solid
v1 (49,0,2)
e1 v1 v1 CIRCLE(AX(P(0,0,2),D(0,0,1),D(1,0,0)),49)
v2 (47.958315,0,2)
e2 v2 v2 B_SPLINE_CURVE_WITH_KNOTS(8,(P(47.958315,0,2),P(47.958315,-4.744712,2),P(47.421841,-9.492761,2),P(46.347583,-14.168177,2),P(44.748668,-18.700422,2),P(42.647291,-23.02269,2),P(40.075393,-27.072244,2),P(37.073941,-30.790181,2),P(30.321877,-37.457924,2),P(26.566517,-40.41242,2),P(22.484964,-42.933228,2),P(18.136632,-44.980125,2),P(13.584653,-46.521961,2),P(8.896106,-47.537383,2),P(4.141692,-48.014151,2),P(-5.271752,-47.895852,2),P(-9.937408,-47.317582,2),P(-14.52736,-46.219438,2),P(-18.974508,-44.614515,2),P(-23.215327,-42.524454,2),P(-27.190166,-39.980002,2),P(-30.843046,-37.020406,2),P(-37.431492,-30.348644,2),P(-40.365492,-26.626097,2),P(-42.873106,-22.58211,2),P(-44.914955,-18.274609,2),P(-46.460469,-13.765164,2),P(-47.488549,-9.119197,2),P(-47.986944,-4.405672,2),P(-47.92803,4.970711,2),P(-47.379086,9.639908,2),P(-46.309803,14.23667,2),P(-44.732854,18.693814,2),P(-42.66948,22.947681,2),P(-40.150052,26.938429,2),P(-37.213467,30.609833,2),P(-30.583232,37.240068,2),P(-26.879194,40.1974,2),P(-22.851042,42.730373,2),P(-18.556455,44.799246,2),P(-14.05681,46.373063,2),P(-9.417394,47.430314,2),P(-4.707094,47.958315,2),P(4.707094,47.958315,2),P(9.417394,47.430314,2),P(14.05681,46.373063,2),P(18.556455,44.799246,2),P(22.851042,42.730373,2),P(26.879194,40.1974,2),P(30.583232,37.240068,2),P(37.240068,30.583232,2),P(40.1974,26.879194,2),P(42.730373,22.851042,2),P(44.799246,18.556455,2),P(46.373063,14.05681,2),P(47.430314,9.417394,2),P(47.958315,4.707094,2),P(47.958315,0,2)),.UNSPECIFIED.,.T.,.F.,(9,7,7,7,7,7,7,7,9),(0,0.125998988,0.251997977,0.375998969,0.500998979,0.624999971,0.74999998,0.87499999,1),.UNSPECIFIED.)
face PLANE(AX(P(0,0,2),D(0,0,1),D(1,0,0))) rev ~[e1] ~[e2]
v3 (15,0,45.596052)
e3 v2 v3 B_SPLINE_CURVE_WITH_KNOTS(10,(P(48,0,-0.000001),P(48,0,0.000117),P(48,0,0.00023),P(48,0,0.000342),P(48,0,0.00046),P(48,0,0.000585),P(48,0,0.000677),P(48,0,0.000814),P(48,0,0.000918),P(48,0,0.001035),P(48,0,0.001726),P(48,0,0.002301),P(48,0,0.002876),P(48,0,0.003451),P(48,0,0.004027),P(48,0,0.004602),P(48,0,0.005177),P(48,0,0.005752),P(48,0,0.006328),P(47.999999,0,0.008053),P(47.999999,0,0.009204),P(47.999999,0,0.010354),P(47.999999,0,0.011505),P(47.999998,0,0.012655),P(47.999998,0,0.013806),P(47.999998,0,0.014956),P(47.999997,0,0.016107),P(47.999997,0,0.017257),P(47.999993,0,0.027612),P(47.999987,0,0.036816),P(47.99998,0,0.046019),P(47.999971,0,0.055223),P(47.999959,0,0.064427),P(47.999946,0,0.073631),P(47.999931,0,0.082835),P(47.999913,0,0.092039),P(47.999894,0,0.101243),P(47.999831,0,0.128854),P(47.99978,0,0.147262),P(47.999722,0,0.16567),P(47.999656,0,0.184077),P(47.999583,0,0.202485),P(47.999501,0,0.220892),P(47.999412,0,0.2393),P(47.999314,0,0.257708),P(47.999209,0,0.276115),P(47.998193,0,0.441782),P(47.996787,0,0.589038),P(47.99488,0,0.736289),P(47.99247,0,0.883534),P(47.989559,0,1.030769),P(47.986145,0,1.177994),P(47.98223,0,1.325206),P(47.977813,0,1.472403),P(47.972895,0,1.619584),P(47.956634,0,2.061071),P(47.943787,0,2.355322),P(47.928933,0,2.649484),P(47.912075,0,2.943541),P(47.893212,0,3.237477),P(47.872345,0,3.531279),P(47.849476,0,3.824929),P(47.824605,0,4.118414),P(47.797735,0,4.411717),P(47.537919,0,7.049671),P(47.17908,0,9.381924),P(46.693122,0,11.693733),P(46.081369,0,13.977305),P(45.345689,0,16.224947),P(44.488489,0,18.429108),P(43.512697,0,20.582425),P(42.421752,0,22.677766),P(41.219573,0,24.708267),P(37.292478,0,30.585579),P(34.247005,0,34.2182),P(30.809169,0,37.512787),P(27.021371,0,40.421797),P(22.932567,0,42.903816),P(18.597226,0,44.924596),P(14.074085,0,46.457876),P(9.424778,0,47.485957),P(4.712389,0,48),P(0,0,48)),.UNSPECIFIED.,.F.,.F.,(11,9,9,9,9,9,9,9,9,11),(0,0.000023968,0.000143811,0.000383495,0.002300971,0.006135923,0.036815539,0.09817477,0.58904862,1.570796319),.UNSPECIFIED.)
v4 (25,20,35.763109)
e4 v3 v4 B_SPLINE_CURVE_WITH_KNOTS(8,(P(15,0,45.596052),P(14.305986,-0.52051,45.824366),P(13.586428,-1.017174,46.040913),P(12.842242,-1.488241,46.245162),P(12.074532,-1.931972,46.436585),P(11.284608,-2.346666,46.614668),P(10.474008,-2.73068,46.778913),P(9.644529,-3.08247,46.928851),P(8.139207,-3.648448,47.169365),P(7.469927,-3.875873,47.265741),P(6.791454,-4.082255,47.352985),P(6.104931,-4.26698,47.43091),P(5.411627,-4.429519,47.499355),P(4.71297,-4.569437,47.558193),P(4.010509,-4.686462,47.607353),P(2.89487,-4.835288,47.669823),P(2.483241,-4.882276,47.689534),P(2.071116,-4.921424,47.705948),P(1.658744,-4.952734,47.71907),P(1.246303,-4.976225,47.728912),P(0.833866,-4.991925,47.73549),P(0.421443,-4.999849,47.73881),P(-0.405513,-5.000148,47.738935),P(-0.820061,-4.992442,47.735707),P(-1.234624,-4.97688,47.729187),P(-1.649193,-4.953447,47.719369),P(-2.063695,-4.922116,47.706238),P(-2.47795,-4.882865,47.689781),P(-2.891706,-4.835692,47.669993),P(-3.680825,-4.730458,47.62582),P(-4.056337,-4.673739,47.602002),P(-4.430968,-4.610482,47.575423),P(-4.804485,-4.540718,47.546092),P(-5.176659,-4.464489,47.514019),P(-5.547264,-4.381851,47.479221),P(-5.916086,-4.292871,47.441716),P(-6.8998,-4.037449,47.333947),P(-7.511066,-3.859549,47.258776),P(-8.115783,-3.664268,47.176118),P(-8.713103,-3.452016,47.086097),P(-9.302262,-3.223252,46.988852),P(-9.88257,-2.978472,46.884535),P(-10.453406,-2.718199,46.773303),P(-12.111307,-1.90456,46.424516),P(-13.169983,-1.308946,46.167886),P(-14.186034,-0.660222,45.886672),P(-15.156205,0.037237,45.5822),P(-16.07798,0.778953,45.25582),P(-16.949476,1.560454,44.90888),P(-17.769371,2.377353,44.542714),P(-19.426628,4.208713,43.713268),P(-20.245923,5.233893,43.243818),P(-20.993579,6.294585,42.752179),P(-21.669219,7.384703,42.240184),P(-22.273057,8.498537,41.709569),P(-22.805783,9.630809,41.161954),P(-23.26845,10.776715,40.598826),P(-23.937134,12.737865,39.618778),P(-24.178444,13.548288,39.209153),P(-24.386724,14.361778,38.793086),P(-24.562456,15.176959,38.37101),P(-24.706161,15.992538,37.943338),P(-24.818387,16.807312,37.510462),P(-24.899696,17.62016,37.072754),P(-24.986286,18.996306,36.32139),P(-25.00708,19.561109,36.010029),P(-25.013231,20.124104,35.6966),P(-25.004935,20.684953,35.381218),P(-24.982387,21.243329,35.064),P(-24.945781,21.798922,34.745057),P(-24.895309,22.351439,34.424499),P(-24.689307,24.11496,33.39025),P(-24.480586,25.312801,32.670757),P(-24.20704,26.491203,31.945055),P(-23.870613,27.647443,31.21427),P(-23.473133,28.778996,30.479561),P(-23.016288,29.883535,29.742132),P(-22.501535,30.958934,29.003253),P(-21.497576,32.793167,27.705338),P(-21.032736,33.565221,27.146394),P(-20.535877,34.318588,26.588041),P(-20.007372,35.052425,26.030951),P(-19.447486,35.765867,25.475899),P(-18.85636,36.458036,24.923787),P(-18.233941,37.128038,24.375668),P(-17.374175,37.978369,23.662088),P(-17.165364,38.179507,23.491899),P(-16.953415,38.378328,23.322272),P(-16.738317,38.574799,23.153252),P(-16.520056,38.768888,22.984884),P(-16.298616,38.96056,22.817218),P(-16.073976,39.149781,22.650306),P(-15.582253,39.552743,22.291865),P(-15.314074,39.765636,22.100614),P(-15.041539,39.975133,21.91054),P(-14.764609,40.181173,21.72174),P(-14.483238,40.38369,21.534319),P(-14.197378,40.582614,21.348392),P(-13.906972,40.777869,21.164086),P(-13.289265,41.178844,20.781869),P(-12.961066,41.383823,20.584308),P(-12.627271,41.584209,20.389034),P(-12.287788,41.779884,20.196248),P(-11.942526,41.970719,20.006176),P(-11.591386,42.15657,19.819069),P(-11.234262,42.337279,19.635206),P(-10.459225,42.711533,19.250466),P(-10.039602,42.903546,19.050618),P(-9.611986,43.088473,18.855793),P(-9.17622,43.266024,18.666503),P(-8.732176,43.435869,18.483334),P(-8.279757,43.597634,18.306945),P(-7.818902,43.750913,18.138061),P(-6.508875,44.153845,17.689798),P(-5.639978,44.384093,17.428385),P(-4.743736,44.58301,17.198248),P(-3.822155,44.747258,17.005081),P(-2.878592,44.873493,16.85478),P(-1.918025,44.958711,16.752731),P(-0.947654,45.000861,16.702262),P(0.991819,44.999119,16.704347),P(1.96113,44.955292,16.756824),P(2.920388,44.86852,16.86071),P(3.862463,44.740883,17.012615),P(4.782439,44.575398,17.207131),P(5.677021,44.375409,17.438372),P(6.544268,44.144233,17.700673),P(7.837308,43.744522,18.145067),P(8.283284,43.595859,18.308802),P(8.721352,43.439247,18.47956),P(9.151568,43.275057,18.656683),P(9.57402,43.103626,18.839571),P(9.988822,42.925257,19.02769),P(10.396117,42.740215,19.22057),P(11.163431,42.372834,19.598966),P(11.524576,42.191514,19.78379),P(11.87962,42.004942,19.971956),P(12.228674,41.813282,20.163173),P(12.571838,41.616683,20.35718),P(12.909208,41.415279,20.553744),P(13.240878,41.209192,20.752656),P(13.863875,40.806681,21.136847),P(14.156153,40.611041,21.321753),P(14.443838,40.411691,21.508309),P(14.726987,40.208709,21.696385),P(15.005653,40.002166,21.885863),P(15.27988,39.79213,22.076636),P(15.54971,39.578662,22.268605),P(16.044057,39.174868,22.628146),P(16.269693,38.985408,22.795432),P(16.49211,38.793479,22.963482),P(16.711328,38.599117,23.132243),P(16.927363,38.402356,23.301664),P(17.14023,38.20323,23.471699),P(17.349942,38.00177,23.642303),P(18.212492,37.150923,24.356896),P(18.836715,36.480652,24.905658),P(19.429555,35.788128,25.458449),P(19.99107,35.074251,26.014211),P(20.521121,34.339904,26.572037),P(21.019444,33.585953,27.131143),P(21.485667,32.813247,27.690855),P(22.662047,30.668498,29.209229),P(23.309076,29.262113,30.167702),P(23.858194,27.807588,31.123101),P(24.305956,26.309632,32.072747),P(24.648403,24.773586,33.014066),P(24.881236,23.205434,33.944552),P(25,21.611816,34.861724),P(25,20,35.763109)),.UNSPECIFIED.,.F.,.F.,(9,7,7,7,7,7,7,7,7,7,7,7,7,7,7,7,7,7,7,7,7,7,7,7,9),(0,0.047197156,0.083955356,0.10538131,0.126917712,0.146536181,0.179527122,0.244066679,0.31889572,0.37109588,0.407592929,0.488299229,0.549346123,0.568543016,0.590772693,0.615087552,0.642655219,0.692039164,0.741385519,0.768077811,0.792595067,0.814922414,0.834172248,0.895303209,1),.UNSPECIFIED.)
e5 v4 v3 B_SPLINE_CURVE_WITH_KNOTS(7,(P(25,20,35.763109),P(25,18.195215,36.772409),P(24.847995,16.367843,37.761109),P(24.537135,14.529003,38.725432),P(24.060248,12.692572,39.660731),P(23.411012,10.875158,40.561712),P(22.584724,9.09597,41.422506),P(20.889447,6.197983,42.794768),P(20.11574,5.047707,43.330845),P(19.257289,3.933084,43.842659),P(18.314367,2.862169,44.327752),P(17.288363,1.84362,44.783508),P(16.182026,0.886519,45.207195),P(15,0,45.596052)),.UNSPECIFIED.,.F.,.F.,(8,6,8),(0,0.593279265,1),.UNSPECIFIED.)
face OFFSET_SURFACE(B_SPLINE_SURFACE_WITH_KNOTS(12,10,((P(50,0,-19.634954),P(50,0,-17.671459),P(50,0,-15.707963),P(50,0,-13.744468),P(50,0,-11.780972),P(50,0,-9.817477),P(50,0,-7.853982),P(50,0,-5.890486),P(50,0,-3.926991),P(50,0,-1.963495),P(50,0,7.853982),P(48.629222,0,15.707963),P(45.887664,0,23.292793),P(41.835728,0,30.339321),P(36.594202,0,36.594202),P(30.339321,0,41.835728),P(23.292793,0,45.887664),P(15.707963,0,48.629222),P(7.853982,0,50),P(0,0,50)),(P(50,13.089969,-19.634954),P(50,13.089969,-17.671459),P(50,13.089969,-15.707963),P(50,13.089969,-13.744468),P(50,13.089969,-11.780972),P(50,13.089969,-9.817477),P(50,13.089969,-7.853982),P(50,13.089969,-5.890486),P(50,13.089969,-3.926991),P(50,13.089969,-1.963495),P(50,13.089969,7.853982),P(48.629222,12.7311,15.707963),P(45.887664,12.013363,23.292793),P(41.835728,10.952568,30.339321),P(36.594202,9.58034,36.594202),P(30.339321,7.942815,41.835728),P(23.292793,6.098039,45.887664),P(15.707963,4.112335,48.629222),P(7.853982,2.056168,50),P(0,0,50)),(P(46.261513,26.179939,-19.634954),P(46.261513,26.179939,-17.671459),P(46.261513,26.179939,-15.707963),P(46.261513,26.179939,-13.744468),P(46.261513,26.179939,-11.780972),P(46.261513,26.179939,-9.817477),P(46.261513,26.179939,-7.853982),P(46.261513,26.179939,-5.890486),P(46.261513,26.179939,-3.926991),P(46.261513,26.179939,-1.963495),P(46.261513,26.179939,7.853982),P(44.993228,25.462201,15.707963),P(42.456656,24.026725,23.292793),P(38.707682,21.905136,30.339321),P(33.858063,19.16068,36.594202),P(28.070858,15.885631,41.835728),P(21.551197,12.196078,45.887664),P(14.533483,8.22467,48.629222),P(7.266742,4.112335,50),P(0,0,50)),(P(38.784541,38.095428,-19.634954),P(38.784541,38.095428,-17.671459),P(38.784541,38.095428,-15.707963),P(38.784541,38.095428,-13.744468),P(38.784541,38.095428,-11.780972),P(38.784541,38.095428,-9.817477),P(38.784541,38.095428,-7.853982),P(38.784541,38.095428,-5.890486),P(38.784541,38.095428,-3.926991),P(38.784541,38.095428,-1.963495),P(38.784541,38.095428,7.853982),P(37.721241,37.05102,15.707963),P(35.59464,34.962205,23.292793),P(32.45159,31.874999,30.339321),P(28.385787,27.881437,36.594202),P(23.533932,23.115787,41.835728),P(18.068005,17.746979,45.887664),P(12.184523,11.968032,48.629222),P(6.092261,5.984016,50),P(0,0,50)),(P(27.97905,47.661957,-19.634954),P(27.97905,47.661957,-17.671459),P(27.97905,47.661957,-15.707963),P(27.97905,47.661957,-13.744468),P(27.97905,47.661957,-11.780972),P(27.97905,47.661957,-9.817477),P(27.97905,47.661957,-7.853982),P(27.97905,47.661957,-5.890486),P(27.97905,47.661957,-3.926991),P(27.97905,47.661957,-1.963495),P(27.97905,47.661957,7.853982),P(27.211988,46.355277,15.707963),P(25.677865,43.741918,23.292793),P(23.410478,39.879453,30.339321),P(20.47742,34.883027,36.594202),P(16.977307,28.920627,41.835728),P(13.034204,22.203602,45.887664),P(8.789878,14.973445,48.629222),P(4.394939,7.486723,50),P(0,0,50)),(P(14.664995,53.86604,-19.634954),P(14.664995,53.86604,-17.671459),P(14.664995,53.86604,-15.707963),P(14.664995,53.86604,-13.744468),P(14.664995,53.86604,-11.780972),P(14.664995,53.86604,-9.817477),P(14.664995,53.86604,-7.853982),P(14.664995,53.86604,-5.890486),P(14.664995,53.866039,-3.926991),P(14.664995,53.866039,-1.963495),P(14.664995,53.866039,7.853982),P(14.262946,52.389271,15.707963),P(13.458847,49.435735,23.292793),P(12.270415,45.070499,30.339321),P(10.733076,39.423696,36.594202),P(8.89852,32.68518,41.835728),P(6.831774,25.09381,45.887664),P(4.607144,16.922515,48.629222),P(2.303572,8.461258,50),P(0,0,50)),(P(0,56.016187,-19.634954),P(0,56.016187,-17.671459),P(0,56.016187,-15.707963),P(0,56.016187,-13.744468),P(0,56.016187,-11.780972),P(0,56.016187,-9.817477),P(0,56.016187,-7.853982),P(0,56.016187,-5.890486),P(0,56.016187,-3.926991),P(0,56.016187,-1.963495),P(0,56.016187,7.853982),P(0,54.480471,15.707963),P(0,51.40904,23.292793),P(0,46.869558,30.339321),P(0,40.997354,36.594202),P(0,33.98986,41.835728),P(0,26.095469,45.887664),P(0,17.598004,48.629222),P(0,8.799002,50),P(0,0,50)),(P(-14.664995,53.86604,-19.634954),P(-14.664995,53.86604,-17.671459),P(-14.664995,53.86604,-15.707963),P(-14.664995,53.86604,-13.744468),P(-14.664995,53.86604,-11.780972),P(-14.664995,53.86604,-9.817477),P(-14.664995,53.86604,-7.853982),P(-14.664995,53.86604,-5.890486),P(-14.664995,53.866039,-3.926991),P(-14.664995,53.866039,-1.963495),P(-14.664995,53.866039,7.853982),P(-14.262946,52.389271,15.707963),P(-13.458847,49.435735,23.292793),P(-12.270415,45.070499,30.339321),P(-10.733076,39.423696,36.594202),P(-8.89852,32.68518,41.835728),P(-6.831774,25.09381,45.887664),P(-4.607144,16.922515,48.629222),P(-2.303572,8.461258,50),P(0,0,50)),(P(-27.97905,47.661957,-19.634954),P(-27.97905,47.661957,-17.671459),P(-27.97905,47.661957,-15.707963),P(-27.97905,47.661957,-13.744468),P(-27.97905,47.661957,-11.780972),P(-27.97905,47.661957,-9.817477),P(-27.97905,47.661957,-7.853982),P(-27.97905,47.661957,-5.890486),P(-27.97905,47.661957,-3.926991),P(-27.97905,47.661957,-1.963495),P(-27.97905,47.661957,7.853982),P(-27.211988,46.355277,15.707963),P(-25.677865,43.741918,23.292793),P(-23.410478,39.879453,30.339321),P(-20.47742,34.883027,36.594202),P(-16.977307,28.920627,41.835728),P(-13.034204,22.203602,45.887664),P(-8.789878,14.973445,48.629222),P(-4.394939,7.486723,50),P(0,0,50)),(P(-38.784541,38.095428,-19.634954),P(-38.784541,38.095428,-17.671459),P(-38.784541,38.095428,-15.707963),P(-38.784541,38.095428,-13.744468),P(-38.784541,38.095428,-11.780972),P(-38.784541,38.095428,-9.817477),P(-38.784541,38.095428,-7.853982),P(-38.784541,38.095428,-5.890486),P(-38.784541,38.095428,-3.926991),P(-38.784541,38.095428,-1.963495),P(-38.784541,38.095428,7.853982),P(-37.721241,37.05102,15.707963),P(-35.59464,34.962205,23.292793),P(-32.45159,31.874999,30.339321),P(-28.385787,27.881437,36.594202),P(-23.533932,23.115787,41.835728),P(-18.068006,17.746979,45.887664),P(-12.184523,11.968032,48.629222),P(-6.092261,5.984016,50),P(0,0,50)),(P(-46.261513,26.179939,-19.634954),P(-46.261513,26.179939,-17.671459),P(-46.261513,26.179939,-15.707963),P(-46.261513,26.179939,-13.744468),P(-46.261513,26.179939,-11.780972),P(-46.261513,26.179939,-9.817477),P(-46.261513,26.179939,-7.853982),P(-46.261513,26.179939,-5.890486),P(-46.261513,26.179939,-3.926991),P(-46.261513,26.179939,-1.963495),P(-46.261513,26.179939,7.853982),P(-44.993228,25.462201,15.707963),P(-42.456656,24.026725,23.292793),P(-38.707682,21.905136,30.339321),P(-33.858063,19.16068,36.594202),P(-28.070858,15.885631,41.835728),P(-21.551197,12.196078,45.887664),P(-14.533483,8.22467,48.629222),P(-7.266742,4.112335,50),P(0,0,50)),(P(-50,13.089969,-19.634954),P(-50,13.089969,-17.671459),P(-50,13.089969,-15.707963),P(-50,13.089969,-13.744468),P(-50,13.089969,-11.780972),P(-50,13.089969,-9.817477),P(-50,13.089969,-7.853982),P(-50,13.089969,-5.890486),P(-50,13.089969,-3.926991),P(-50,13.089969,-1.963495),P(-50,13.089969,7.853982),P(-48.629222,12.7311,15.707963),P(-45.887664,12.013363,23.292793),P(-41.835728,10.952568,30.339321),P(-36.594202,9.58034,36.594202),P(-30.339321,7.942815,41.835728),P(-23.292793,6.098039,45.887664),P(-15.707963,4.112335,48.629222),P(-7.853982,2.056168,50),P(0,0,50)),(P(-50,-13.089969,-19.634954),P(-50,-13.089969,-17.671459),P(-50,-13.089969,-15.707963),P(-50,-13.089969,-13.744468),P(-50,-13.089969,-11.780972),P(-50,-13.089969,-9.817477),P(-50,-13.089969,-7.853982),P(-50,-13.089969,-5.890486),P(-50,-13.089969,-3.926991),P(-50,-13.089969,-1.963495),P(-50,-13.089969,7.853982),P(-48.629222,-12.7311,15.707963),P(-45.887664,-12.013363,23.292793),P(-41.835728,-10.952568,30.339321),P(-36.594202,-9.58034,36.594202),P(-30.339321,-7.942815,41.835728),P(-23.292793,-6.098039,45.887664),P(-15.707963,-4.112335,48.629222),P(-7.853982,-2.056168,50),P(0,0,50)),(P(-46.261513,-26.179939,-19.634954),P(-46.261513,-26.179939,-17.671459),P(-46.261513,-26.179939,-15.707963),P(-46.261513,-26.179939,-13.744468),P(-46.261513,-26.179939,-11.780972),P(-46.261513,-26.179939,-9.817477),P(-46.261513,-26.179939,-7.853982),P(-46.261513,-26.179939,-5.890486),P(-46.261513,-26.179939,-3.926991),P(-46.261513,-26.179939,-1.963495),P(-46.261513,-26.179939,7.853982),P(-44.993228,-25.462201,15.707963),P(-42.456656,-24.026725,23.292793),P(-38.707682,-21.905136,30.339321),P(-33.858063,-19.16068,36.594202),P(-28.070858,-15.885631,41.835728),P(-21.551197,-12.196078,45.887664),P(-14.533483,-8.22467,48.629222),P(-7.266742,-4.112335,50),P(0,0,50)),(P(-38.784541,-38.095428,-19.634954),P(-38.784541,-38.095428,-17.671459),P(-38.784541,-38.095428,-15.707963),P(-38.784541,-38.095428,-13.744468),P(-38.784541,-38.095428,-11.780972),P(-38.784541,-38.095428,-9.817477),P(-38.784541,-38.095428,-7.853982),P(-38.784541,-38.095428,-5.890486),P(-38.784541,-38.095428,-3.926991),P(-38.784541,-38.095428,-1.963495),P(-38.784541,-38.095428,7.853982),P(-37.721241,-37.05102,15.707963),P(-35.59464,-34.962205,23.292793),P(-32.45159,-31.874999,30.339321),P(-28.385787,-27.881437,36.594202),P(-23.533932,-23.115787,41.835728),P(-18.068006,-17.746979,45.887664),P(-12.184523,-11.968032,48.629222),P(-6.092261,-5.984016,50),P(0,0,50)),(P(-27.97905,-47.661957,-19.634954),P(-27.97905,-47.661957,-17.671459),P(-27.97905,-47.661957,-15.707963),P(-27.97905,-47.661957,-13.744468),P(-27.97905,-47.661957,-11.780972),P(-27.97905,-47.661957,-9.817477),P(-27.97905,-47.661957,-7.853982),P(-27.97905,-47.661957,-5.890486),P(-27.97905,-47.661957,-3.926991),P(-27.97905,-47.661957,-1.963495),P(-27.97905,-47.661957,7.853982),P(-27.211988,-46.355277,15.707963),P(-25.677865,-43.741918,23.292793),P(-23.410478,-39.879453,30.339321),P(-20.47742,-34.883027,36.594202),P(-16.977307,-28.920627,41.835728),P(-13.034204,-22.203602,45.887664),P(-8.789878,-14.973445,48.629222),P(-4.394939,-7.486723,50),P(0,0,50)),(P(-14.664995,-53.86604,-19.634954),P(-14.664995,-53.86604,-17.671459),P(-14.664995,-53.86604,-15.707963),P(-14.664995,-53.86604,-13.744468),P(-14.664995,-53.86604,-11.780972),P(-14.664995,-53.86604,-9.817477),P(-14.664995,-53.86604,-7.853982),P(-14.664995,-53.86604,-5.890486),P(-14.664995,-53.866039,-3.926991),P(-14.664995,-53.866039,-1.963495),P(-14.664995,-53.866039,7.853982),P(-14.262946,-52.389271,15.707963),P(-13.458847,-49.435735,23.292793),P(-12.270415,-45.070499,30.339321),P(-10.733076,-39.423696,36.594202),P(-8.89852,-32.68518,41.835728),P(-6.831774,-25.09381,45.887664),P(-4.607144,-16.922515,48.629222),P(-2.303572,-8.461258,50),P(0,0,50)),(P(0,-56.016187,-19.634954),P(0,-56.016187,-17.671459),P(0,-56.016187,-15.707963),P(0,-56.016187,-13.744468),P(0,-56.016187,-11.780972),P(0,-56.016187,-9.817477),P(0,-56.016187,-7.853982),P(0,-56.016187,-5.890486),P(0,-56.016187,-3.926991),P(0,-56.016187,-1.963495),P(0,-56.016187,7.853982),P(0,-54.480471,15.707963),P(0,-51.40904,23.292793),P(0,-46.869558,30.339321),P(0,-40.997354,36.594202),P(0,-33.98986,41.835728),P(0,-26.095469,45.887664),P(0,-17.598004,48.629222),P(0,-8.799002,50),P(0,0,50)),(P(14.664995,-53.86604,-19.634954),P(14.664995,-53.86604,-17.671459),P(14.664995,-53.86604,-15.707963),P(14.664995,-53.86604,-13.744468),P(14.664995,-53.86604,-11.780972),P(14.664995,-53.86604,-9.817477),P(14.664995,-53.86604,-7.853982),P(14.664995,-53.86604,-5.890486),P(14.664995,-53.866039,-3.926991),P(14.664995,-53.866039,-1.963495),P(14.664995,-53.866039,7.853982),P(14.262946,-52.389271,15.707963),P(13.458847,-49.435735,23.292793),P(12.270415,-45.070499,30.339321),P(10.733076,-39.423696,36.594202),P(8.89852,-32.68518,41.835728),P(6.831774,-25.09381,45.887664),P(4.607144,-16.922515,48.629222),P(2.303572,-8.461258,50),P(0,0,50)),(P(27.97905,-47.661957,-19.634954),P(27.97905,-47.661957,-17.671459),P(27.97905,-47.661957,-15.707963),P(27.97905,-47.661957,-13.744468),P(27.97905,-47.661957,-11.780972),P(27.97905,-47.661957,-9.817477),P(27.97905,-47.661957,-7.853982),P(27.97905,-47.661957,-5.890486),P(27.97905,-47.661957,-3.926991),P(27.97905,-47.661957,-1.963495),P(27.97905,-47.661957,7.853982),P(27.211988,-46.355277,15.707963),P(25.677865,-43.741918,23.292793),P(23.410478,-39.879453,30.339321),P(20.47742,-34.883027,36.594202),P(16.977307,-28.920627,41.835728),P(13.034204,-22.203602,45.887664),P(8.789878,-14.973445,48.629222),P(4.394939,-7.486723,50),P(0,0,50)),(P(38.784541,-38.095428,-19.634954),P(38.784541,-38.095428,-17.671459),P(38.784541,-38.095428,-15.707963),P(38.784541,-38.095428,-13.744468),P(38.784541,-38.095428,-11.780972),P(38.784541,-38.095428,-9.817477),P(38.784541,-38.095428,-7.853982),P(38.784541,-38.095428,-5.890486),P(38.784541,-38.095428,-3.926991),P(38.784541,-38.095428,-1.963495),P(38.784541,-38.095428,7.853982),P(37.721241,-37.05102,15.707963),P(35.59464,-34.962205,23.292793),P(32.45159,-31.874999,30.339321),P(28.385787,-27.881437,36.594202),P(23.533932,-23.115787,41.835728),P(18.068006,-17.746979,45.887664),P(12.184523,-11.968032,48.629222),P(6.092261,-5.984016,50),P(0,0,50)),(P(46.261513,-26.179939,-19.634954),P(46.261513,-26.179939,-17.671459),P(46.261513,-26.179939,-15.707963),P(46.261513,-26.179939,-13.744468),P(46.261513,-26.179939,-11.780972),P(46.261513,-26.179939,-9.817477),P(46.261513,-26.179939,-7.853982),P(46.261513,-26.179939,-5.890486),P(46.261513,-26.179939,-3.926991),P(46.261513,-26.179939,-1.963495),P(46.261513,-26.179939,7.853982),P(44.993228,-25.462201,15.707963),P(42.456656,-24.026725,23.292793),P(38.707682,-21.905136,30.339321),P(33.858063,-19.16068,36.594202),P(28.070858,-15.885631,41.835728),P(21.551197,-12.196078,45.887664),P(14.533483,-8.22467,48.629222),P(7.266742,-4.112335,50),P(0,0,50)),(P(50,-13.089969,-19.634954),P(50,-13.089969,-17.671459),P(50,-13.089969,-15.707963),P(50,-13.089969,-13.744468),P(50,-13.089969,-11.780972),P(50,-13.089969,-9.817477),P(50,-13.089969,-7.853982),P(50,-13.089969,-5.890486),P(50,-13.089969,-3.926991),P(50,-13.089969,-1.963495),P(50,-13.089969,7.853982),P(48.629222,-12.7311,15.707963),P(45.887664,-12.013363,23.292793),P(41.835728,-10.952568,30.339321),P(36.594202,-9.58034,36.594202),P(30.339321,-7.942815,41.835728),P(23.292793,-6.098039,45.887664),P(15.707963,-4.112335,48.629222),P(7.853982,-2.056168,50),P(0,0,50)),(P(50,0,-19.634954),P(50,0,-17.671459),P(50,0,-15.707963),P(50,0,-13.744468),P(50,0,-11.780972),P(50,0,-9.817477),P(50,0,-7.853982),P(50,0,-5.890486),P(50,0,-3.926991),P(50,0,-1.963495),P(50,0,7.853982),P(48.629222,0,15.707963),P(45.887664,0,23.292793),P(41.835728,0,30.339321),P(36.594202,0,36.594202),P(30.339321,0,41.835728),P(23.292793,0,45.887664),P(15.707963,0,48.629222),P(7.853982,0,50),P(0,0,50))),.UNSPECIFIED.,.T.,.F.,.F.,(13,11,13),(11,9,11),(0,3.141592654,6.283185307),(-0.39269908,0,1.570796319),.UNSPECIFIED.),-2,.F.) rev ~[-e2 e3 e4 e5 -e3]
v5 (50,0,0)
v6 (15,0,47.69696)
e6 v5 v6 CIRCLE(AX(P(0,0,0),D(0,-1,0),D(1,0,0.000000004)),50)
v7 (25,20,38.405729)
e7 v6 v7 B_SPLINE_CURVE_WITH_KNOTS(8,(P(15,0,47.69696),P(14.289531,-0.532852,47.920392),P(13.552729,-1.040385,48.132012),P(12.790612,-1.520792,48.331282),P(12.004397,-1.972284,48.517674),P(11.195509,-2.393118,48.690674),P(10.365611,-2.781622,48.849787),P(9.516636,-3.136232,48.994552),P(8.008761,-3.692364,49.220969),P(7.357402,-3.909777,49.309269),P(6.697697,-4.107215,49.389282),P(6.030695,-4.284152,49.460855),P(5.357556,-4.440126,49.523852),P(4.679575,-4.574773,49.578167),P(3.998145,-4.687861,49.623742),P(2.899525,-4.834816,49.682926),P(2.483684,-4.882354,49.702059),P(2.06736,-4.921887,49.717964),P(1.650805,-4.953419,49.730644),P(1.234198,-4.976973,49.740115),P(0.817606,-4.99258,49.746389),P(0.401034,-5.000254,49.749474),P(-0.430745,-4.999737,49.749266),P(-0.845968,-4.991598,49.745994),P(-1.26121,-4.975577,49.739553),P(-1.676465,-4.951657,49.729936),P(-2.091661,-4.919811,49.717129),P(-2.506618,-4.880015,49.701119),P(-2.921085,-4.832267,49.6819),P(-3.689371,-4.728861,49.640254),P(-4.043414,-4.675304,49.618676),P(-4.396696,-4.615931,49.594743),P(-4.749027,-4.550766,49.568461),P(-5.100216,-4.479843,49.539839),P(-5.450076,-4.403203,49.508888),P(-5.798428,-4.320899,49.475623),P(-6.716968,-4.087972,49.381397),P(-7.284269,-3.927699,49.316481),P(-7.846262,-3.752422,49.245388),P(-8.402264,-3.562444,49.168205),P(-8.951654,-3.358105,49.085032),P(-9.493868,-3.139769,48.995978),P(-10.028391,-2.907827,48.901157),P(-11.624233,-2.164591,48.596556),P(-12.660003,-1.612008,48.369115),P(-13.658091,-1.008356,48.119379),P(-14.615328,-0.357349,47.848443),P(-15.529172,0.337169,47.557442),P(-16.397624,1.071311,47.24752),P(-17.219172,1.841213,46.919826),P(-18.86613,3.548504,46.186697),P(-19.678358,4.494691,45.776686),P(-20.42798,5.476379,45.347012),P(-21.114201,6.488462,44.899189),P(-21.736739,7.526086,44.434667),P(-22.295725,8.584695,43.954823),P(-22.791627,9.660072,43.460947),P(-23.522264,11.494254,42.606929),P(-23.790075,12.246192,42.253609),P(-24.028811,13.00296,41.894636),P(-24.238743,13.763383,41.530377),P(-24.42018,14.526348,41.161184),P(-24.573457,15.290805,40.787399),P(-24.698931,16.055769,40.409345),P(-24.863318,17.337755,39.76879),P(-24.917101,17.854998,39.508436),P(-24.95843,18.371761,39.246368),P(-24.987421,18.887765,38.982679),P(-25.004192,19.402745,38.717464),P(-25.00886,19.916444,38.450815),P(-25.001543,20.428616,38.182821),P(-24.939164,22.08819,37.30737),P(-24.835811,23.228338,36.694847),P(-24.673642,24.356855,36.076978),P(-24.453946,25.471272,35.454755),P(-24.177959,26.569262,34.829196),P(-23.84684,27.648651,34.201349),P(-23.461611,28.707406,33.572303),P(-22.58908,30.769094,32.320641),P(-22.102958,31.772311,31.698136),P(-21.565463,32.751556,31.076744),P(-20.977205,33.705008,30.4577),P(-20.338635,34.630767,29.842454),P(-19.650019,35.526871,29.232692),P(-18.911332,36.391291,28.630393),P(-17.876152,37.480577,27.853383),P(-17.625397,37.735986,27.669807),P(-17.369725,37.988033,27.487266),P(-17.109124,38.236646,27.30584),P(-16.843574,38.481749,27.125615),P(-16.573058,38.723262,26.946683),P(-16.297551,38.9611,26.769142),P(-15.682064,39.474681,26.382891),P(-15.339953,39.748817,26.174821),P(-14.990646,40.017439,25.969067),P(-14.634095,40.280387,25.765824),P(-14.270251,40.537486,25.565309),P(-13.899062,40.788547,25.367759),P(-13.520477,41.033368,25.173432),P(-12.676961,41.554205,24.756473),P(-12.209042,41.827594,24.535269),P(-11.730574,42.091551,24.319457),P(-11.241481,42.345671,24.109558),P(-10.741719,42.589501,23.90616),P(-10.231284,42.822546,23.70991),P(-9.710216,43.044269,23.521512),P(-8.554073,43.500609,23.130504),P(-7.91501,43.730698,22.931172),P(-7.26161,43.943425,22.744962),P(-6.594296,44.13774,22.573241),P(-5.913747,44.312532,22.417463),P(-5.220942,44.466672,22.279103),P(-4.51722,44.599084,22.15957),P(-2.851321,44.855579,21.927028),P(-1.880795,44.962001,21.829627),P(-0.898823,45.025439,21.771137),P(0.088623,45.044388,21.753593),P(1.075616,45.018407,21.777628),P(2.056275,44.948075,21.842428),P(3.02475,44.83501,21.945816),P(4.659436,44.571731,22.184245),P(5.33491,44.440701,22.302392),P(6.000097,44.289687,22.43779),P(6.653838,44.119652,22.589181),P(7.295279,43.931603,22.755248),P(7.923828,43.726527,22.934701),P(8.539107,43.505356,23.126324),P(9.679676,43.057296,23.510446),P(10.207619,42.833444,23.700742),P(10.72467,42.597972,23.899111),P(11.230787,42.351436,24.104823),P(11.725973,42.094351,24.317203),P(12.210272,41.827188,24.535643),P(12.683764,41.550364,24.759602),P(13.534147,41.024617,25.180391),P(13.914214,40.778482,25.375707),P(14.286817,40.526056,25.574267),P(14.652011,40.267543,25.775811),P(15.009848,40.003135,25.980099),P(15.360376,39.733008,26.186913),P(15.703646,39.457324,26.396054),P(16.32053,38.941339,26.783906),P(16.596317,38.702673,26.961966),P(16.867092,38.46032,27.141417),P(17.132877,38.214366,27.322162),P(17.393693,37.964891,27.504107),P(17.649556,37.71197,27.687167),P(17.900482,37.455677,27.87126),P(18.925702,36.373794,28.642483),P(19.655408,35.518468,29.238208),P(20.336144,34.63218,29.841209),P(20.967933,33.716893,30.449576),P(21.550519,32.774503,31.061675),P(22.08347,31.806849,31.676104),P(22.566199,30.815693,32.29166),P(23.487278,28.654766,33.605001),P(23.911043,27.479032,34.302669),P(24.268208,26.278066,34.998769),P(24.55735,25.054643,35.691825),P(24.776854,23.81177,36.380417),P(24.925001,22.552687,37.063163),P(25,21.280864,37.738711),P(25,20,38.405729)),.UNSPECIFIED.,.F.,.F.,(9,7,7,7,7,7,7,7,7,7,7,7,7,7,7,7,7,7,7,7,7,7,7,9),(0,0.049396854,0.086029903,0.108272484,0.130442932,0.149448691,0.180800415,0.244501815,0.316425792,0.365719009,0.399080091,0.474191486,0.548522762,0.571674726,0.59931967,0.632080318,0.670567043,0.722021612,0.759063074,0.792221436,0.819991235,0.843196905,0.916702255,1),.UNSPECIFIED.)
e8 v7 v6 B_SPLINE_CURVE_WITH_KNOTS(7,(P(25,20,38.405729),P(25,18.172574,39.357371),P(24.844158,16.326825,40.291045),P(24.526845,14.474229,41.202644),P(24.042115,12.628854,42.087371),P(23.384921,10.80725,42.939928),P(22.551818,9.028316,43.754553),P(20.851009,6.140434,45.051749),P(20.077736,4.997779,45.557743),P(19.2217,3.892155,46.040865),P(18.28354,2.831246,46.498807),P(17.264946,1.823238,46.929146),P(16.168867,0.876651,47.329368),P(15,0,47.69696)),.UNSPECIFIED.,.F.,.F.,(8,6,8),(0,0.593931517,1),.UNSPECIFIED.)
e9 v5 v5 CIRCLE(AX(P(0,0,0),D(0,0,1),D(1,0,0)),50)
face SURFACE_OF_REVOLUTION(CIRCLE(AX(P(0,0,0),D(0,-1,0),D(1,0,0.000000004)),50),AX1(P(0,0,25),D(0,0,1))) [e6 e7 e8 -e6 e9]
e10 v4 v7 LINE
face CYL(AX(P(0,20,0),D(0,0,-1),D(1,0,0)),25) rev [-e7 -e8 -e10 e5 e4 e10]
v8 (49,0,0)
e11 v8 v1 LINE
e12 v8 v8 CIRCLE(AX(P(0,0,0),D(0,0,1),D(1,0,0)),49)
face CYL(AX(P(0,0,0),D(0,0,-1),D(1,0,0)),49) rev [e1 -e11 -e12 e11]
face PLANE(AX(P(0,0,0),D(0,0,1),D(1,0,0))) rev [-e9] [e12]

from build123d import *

# Parameters (mm, degrees)
F2_T     = -2
F3_R     = 49
F4_DEPTH = 2
F5_R     = 25
F6_DEPTH = 50.001


with BuildPart() as f1:
    # F0 (on Front) → F1 (revolve)
    with BuildSketch(Plane.XZ):
        with BuildLine():
            Line((0, 50), (0, 0))
            Line((0, 0), (50, 0))
            ThreePointArc((50, 0), (35.355339, 35.355339), (0, 50))
        make_face()
    revolve(axis=Axis((0, 0, 25), (0, 0, 1)))

    # F2
    f2_openings = [f1.faces().sort_by_distance(p)[0] for p in [
        (0, 0, 0),
    ]]
    offset(amount=F2_T, openings=f2_openings)

    # F3 (on Top) → F4 (cut)
    with BuildSketch(Plane.XY):
        Circle(F3_R)
    extrude(amount=F4_DEPTH, mode=Mode.SUBTRACT)

    # F5 (on Top) → F6 (cut, through all)
    with BuildSketch(Plane.XY):
        with Locations((0, 20)):
            Circle(F5_R)
    extrude(amount=F6_DEPTH, mode=Mode.SUBTRACT)


solid = f1.part
